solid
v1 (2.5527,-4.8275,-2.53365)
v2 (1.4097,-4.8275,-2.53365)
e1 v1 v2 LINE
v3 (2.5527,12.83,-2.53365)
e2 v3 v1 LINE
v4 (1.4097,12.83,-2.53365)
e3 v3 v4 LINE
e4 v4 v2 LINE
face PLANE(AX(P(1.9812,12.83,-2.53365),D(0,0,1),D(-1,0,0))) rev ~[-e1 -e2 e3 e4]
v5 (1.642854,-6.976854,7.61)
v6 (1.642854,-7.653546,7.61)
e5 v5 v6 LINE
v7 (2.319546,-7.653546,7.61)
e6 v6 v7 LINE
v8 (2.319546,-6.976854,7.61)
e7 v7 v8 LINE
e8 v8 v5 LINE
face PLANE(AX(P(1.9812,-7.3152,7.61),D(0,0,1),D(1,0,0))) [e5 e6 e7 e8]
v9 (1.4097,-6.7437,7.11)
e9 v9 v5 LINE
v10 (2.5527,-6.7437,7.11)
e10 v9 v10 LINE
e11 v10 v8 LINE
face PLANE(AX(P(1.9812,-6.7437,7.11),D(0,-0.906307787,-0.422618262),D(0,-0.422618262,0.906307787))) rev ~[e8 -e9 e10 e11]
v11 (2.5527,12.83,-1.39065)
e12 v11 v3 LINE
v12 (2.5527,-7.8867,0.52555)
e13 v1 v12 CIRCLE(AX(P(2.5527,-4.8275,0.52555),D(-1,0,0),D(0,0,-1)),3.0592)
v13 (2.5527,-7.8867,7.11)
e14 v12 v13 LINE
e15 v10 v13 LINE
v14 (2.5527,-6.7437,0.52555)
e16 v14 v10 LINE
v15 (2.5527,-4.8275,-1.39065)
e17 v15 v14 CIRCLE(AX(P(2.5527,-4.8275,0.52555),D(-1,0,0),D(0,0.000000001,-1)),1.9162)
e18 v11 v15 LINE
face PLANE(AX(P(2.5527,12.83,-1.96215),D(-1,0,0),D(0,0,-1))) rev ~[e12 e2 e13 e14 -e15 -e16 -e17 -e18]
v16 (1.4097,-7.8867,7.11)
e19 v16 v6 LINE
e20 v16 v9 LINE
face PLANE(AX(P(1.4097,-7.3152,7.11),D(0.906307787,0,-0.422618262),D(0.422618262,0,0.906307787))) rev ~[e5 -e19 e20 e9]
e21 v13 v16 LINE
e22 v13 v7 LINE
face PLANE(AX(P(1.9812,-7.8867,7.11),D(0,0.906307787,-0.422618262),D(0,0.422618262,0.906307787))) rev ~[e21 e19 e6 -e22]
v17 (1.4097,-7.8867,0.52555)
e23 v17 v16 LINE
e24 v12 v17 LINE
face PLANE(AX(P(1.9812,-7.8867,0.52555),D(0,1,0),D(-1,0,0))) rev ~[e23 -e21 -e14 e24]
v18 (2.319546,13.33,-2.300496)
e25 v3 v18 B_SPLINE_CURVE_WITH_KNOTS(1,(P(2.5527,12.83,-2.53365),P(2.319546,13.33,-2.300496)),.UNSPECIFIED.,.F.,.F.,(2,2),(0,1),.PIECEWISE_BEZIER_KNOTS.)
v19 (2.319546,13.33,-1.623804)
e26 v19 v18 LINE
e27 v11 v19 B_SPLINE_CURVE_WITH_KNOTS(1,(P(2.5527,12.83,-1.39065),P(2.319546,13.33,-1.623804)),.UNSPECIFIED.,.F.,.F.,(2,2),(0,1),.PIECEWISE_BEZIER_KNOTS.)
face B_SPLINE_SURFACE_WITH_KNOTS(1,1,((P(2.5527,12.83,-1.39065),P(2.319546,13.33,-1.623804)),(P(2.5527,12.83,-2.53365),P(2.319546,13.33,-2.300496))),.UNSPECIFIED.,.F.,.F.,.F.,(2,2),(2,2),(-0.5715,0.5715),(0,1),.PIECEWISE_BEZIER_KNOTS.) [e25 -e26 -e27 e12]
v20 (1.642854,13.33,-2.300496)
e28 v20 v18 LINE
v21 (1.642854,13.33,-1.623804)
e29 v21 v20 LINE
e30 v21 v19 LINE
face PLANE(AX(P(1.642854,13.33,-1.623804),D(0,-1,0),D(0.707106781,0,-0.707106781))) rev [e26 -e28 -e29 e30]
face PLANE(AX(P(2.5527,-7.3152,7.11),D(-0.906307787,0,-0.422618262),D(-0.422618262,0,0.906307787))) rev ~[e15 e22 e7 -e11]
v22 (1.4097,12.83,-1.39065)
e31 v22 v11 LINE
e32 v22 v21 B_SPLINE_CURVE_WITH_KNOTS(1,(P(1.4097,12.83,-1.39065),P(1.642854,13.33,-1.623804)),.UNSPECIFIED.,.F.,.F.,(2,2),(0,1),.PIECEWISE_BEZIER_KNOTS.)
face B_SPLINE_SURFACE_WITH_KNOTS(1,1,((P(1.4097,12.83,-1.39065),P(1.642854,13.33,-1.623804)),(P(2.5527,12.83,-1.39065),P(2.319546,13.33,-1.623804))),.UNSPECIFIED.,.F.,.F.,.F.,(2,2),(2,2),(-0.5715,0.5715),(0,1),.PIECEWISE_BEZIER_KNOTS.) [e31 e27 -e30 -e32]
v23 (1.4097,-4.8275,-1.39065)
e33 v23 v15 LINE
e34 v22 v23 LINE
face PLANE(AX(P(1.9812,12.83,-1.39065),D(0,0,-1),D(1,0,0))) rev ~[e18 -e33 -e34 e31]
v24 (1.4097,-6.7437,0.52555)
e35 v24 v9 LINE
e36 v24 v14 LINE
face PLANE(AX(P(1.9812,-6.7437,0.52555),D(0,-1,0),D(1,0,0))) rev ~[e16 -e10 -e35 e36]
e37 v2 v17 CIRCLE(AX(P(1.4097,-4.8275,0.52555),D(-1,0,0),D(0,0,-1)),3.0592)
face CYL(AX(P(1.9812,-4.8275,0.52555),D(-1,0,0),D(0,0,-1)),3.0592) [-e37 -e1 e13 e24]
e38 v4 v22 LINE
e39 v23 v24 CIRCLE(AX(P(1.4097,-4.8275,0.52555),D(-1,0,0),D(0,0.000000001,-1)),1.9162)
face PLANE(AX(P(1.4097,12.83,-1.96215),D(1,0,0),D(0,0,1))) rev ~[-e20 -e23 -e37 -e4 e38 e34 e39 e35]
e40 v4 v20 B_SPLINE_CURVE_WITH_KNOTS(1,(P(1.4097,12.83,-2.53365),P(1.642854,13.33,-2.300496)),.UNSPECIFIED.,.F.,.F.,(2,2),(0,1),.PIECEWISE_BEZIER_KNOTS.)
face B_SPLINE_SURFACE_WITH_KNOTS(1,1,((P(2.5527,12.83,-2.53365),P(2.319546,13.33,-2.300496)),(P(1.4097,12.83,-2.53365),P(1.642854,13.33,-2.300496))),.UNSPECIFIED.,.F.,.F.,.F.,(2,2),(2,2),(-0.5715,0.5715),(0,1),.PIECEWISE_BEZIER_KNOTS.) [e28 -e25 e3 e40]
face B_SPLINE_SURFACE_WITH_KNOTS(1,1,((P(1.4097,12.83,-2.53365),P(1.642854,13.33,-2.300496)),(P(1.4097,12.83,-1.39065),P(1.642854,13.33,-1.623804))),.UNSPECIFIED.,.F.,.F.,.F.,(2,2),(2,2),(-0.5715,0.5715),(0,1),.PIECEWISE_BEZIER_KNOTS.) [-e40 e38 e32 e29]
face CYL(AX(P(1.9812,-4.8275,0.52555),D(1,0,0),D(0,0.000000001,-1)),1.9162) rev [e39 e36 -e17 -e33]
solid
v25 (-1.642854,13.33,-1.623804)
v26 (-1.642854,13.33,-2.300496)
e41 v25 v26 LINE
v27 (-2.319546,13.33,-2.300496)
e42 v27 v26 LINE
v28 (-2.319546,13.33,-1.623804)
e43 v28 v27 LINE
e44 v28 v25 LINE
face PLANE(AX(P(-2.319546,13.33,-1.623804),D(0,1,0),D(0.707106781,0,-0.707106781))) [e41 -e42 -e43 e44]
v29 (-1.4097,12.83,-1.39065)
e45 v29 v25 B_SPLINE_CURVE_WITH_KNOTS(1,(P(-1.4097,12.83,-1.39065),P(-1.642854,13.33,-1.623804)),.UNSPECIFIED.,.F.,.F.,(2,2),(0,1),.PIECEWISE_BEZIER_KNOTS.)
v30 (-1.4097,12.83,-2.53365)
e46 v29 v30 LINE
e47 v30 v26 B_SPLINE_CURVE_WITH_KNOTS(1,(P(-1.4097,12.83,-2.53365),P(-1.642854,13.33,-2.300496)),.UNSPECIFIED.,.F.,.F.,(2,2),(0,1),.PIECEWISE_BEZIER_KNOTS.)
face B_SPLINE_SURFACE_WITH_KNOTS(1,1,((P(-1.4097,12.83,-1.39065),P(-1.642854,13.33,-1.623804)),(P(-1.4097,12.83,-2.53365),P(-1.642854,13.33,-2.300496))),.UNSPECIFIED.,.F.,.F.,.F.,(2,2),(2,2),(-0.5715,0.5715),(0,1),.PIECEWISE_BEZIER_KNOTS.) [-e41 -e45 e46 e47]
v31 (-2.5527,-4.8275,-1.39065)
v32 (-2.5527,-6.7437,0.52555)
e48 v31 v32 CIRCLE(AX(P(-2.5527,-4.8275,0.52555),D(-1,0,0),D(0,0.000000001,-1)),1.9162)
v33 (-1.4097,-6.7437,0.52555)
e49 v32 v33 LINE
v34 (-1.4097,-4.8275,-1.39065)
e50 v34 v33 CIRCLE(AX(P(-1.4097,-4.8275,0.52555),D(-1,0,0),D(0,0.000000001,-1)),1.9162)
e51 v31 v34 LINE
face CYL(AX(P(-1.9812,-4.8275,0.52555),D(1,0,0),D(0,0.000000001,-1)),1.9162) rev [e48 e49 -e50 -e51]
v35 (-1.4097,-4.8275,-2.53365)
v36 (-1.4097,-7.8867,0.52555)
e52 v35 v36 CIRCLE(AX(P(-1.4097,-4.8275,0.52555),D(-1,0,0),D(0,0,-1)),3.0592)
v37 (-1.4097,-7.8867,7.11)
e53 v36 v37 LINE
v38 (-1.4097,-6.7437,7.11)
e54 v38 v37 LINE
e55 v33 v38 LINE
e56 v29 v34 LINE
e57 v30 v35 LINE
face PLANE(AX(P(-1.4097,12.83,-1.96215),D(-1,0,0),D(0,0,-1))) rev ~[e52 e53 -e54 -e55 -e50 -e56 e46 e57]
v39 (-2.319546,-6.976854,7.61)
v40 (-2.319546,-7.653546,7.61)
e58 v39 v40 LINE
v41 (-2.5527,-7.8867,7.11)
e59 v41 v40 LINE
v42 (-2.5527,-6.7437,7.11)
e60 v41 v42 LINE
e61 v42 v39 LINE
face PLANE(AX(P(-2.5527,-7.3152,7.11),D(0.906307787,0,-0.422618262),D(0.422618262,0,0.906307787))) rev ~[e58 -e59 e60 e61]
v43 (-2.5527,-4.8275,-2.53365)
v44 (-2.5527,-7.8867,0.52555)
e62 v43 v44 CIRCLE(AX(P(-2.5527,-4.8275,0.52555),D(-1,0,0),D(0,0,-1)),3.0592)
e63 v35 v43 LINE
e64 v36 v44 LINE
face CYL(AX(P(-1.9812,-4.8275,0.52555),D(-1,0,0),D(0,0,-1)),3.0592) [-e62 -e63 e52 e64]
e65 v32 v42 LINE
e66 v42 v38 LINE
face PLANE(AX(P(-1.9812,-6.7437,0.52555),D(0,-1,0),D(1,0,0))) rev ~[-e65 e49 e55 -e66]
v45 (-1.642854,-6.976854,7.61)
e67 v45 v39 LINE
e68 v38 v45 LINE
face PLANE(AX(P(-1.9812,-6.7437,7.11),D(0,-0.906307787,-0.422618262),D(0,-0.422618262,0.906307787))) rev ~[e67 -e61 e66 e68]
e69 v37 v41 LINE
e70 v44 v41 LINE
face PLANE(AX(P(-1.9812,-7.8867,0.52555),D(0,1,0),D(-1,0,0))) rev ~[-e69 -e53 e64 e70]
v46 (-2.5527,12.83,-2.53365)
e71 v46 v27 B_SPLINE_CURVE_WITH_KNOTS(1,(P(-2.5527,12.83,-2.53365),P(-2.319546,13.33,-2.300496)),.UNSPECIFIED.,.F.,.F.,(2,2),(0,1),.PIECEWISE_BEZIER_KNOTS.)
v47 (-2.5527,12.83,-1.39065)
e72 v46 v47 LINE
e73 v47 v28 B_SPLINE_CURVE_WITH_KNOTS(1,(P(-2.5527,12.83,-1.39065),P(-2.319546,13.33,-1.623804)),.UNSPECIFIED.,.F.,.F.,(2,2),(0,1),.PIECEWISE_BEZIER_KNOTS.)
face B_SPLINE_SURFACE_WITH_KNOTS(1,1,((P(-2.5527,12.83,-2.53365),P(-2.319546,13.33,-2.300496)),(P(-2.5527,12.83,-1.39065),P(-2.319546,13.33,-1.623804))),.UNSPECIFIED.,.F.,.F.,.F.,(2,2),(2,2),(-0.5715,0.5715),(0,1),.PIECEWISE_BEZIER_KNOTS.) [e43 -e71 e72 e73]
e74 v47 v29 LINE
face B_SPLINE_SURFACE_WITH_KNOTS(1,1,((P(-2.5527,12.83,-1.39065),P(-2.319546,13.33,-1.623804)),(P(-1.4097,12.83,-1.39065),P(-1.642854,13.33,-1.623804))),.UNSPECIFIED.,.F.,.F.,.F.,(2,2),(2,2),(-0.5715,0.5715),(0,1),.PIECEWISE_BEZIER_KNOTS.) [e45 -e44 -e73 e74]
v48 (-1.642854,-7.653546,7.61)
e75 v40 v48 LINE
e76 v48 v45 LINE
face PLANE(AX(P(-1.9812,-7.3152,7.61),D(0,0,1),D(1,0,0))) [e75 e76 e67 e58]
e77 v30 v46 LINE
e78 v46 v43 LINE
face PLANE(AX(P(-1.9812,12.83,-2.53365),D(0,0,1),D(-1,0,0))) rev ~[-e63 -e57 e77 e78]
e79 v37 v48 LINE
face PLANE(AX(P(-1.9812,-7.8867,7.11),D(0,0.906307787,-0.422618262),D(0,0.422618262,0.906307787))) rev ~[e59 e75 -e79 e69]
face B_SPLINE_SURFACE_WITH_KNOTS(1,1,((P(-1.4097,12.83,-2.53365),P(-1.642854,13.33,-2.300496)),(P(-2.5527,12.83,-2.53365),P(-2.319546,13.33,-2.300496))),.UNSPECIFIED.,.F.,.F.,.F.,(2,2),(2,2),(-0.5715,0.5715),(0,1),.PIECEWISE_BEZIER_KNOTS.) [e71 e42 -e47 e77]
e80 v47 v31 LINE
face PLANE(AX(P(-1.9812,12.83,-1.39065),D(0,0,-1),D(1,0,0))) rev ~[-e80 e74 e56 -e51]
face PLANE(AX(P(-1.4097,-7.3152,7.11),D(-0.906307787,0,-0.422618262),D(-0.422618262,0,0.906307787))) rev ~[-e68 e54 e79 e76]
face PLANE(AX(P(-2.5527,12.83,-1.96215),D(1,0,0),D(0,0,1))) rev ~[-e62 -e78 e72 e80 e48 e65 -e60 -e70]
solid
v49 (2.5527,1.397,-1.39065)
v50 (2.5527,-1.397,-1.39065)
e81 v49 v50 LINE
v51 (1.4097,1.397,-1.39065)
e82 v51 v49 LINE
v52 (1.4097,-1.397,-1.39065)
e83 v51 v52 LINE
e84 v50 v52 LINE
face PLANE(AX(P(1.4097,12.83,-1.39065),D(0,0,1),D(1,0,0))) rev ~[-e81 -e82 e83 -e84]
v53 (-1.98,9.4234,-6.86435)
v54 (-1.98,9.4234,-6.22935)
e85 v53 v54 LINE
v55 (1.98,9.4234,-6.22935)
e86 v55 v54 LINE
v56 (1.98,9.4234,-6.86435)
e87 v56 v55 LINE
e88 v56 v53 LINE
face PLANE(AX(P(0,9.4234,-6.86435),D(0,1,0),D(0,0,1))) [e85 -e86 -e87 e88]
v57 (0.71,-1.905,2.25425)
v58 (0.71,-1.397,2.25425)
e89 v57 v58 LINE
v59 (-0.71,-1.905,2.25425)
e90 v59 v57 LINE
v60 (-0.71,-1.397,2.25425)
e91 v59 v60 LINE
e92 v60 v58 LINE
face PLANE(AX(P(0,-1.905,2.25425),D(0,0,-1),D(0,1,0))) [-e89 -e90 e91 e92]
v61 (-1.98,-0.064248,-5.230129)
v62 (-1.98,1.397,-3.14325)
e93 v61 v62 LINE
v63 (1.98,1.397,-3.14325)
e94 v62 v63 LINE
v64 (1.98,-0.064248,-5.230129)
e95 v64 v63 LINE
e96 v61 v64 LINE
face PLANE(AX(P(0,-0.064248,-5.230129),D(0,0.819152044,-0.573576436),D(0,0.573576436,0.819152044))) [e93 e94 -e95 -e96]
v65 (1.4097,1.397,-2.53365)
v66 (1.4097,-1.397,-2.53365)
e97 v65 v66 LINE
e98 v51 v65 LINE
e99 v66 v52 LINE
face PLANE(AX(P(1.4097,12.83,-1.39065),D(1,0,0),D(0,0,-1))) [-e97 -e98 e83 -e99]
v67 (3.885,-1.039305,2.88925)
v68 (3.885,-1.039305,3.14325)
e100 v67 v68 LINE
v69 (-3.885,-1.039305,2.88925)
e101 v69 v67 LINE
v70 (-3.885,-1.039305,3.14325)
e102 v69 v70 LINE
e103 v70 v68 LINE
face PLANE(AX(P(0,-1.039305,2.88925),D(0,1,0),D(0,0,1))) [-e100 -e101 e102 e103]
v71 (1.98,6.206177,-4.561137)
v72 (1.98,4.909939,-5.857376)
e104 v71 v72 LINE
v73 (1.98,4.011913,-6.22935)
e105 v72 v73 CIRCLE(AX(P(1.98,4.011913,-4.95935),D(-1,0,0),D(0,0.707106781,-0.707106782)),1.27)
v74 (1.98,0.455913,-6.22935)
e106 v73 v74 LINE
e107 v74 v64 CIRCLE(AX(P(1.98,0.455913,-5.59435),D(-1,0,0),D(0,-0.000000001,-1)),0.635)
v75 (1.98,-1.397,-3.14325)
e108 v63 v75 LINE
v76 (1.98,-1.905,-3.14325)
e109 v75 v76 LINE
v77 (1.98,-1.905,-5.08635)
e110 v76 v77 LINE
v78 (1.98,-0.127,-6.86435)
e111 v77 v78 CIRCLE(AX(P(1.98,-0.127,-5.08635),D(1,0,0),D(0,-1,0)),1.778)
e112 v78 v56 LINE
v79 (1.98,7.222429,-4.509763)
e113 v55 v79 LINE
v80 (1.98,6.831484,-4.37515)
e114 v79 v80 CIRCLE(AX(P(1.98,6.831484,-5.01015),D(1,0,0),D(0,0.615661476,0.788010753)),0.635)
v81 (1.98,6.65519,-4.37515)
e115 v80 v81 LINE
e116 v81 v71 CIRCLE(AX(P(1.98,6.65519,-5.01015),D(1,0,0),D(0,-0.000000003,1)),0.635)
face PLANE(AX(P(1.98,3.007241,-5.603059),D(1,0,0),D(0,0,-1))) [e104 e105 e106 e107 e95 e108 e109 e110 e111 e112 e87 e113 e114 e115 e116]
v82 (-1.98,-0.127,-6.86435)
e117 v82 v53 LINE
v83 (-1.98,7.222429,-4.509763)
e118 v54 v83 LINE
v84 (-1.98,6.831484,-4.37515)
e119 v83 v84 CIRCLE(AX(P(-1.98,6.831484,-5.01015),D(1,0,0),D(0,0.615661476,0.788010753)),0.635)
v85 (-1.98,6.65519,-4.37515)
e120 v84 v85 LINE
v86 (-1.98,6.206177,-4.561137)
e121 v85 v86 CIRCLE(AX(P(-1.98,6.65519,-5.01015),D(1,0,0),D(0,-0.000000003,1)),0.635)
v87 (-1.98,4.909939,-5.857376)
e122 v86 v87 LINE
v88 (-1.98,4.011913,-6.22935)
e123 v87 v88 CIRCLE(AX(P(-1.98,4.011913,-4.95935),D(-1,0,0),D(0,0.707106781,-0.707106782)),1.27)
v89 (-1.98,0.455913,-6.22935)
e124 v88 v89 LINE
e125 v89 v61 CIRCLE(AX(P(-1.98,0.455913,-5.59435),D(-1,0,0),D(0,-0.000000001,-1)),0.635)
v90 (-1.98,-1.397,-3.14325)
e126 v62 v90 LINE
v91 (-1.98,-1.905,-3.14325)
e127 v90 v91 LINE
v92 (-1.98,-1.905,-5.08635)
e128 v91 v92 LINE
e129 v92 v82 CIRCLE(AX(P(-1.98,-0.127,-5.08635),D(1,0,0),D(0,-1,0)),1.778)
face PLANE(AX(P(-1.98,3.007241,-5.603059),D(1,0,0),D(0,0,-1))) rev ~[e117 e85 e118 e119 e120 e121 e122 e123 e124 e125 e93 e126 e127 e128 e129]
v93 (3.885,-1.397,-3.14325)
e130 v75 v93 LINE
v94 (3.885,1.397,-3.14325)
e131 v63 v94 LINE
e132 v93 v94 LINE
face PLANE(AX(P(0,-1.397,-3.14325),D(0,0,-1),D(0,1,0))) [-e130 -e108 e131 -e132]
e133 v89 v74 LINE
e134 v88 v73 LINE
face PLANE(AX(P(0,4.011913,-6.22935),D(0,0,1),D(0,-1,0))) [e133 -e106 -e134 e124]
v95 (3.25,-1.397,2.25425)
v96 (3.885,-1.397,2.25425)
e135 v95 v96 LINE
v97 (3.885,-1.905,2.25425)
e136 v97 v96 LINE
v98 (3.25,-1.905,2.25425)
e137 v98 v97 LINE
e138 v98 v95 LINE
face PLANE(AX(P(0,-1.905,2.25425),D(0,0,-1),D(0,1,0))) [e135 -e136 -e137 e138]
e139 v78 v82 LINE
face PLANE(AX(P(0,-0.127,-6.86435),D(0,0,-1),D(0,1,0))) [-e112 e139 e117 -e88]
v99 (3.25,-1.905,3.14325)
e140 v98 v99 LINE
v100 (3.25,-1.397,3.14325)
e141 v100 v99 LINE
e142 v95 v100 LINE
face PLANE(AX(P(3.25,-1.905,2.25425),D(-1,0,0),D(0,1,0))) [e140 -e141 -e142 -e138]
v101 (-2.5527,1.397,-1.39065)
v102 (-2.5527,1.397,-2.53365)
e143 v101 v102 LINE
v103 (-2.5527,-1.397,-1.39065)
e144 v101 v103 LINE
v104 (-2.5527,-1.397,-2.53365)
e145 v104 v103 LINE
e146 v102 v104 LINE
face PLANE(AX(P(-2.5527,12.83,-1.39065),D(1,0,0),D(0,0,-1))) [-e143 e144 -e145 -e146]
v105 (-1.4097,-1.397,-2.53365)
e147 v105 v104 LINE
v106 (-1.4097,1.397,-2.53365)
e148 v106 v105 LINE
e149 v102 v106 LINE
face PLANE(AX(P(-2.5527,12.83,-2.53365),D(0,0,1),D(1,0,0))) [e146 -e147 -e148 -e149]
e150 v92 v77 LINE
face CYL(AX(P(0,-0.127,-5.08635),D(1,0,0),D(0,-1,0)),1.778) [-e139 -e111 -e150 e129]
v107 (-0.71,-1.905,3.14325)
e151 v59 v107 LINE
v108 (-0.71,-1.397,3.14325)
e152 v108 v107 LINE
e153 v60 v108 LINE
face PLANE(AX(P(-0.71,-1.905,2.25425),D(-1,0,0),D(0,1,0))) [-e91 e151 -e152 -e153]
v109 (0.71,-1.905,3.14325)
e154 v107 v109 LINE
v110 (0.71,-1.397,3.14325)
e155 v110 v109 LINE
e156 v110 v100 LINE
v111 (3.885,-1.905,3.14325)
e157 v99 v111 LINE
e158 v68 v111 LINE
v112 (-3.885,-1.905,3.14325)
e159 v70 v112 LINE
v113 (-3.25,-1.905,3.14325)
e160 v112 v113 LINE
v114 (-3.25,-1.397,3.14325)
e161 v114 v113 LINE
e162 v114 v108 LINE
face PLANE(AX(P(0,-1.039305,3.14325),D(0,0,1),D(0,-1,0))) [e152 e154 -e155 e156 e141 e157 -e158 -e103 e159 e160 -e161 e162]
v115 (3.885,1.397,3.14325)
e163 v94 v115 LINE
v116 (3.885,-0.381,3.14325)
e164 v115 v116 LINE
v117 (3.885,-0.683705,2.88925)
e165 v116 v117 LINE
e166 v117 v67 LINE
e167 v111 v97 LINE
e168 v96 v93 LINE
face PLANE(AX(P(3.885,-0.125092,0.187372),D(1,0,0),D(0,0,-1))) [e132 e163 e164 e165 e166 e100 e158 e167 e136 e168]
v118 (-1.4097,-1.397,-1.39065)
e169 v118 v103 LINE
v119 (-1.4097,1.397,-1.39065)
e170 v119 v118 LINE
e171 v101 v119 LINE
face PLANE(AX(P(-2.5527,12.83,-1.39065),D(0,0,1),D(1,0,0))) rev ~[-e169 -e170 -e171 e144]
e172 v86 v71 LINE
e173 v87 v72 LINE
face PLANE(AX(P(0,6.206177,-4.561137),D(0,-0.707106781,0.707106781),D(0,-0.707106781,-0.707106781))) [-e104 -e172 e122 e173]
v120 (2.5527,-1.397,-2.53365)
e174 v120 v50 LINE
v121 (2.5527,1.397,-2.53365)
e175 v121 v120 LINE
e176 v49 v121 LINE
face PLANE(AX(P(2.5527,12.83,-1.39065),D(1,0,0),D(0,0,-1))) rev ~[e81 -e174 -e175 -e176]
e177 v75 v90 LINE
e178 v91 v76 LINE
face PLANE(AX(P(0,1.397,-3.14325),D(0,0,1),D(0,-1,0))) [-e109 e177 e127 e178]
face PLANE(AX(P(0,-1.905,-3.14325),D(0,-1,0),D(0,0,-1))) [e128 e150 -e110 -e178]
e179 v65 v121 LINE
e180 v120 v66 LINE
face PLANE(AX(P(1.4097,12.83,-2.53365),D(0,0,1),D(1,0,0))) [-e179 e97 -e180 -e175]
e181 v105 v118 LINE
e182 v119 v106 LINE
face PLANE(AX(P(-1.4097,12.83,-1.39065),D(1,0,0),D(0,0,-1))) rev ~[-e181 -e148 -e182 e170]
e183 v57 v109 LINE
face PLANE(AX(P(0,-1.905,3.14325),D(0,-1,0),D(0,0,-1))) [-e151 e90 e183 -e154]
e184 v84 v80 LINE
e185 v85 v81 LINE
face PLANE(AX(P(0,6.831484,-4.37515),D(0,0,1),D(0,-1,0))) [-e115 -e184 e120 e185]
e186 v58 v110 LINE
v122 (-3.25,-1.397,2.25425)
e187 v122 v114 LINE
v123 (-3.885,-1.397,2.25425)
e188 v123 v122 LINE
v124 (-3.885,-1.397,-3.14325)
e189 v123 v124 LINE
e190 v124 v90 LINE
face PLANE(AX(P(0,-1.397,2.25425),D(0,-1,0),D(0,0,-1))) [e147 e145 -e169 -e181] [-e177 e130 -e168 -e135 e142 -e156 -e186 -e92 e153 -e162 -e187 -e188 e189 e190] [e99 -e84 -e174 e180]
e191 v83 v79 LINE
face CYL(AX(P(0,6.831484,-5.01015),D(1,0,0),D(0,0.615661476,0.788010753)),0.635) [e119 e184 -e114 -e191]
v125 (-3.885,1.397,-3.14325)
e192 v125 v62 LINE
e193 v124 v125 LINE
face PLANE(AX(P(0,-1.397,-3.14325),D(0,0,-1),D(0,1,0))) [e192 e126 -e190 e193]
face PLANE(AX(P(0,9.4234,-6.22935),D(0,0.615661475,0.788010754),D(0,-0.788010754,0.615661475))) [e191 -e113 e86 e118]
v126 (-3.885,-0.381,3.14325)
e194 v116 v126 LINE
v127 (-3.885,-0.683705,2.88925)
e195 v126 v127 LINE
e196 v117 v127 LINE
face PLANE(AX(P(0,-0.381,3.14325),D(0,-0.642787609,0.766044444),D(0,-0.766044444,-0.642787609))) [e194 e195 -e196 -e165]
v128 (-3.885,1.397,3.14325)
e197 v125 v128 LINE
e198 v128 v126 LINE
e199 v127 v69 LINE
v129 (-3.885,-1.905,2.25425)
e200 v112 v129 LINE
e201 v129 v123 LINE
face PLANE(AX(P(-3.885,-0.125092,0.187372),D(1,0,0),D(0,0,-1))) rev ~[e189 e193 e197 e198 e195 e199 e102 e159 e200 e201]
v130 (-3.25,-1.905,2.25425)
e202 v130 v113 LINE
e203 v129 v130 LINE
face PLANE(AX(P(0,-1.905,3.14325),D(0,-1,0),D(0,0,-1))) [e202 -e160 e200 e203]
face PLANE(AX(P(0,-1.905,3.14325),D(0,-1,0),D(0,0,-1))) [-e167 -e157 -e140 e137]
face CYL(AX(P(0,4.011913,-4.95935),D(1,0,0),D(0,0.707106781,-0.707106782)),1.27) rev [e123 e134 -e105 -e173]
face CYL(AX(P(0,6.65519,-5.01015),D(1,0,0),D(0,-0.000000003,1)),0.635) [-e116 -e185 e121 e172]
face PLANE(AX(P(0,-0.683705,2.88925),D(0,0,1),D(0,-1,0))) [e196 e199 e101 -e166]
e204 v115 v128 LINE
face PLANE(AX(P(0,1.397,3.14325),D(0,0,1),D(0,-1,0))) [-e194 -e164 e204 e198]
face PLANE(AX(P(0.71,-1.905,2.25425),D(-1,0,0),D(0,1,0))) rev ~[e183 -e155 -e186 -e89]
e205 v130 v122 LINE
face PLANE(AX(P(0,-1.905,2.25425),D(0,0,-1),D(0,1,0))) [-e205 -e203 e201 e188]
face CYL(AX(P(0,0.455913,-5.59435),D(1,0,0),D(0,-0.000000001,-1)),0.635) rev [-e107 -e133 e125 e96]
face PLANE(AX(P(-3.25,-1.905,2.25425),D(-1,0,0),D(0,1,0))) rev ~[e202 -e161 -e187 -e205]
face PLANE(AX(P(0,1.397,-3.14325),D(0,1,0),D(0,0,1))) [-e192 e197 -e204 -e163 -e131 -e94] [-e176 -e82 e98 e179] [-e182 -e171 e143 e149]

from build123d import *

# Parameters (mm, degrees)
BOSS_EXTRUDE14_DEPTH           = 3.885
BOSS_EXTRUDE14_DEPTH_BACK      = 3.885
BOSS_EXTRUDE15_DEPTH           = 1.98
BOSS_EXTRUDE15_DEPTH_BACK      = 1.98
SKETCH19_W                     = 2.54
SKETCH19_H                     = 0.508
CUT_EXTRUDE4_DEPTH             = 14.676350336
SKETCH20_W                     = 1.143
SKETCH20_H                     = 1.143
CUT_EXTRUDE5_DEPTH             = 17.713250759
SKETCH20_2_W                   = 1.143
SKETCH20_2_H                   = 1.143
SKETCH23_W                     = 1.143
SKETCH23_H                     = 1.143
BOSS_EXTRUDE16_DEPTH           = 0.5
BOSS_EXTRUDE16_DRAFT           = 25
BOSS_EXTRUDE16_PROFILE_2_DEPTH = 0.5
BOSS_EXTRUDE16_PROFILE_2_DRAFT = 25
SKETCH24_W                     = 1.143
SKETCH24_H                     = 1.143
BOSS_EXTRUDE17_DEPTH           = 0.5
BOSS_EXTRUDE17_DRAFT           = 25
BOSS_EXTRUDE17_PROFILE_2_DEPTH = 0.5
BOSS_EXTRUDE17_PROFILE_2_DRAFT = 25


with BuildPart() as part:
    # Sketch17 → Boss-Extrude14 (new, two sides: drawn at the far end of the back side and taken through both)
    with BuildSketch(Plane(origin=(0, 0, 0), x_dir=(0, 0, -1), z_dir=(1, 0, 0)).offset(-BOSS_EXTRUDE14_DEPTH_BACK)):
        Polygon((-2.88925001, -0.683705401), (-2.88925001, -1.039305413), (-3.14325, -1.039305413), (-3.14325, -1.905), (-2.25425, -1.905), (-2.25425, -1.397), (3.14325, -1.397), (3.14325, 1.397), (-3.14325, 1.397), (-3.14325, -0.381), align=None)
    extrude(amount=BOSS_EXTRUDE14_DEPTH + BOSS_EXTRUDE14_DEPTH_BACK)

    # Sketch18 → Boss-Extrude15 (add, two sides: drawn at the far end of the back side and taken through both)
    with BuildSketch(Plane(origin=(0, 0, 0), x_dir=(0, 0, -1), z_dir=(1, 0, 0)).offset(-BOSS_EXTRUDE15_DEPTH_BACK)):
        with BuildLine():
            Line((6.22935, 9.4234), (4.509763171, 7.222429228))
            ThreePointArc((4.509763171, 7.222429228), (4.409745704, 7.038219969), (4.37515, 6.831484191))
            Line((4.37515, 6.831484191), (4.37515, 6.655190003))
            ThreePointArc((4.37515, 6.655190003), (4.423486497, 6.412186024), (4.561137194, 6.206177197))
            Line((4.561137194, 6.206177197), (5.857375612, 4.909938779))
            ThreePointArc((5.857375612, 4.909938779), (6.132677006, 4.497921126), (6.22935, 4.011913167))
            Line((6.22935, 4.011913167), (6.22935, 0.455913167))
            ThreePointArc((6.22935, 0.455913167), (5.887560369, -0.107338712), (5.230128963, -0.064248381))
            Line((5.230128963, -0.064248381), (3.14325, 1.397))
            Line((3.14325, 1.397), (3.14325, -1.905))
            Line((3.14325, -1.905), (5.08635, -1.905))
            ThreePointArc((5.08635, -1.905), (6.343585857, -1.384235857), (6.86435, -0.127))
            Line((6.86435, -0.127), (6.86435, 9.4234))
            Line((6.86435, 9.4234), (6.22935, 9.4234))
        make_face()
    extrude(amount=BOSS_EXTRUDE15_DEPTH + BOSS_EXTRUDE15_DEPTH_BACK)

    # Sketch19 → Cut-Extrude4 (cut, through all)
    with BuildSketch(Plane(origin=(0, 0, 2.25425), x_dir=(-1, 0, 0), z_dir=(0, 0, -1))):
        with Locations((-1.98, -1.651)):
            Rectangle(SKETCH19_W, SKETCH19_H)
        with Locations((1.98, -1.651)):
            Rectangle(SKETCH19_W, SKETCH19_H)
    extrude(amount=-CUT_EXTRUDE4_DEPTH, mode=Mode.SUBTRACT)

    # Sketch20 → Cut-Extrude5 (cut, through all)
    with BuildSketch(Plane(origin=(0, 12.83, 0), x_dir=(1, 0, 0), z_dir=(0, 1, 0))):
        with Locations((-1.9812, 1.96215)):
            Rectangle(SKETCH20_W, SKETCH20_H)
        with Locations((1.9812, 1.96215)):
            Rectangle(SKETCH20_W, SKETCH20_H)
    extrude(amount=-CUT_EXTRUDE5_DEPTH, mode=Mode.SUBTRACT)


with BuildPart() as body_2:
    # Sweep1: sweep along a path in Sketch21
    with BuildLine(Plane(origin=(1.98, 0, 0), x_dir=(0, 0, -1), z_dir=(1, 0, 0))) as sweep1_path:
        Line((1.96215, 12.83), (1.96215, -4.8275))
        ThreePointArc((1.96215, -4.8275), (1.23351954, -6.58656954), (-0.52555, -7.3152))
        Line((-0.52555, -7.3152), (-7.11, -7.3152))
    # Sketch20<2> → Sweep1 (sweep)
    with BuildSketch(Plane(origin=(0, 12.83, 0), x_dir=(1, 0, 0), z_dir=(0, 1, 0))):
        with Locations((-1.9812, 1.96215)):
            Rectangle(SKETCH20_2_W, SKETCH20_2_H)
        with Locations((1.9812, 1.96215)):
            Rectangle(SKETCH20_2_W, SKETCH20_2_H)
    sweep(path=sweep1_path.line)


with BuildPart() as boss_extrude16_tool:
    # Sketch23 → Boss-Extrude16 (with draft: the straight prism first)
    with BuildSketch(Plane(origin=(0, 12.83, 0), x_dir=(1, 0, 0), z_dir=(0, 1, 0))):
        with Locations((1.9812, 1.96215)):
            Rectangle(SKETCH23_W, SKETCH23_H)
    extrude(amount=BOSS_EXTRUDE16_DEPTH)
    # Boss-Extrude16: the draft: its side faces are tilted about the plane it starts from
    boss_extrude16_sides = [boss_extrude16_tool.faces().sort_by_distance(p)[0] for p in [
        (1.9812, 13.08, -1.39065),
        (2.5527, 13.08, -1.96215),
        (1.9812, 13.08, -2.53365),
        (1.4097, 13.08, -1.96215),
    ]]
    draft(boss_extrude16_sides, Plane(origin=(0, 12.83, 0), x_dir=(1, 0, 0), z_dir=(0, 1, 0)), BOSS_EXTRUDE16_DRAFT)


with BuildPart() as body_2_1:
    add(body_2.part)

    # Boss-Extrude16: add boss_extrude16_tool
    add(boss_extrude16_tool.part)


with BuildPart() as boss_extrude16_profile_2_tool:
    # Sketch23 → Boss-Extrude16 profile 2 (with draft: the straight prism first)
    with BuildSketch(Plane(origin=(0, 12.83, 0), x_dir=(1, 0, 0), z_dir=(0, 1, 0))):
        with Locations((-1.9812, 1.96215)):
            Rectangle(SKETCH23_W, SKETCH23_H)
    extrude(amount=BOSS_EXTRUDE16_PROFILE_2_DEPTH)
    # Boss-Extrude16 profile 2: the draft: its side faces are tilted about the plane it starts from
    boss_extrude16_profile_2_sides = [boss_extrude16_profile_2_tool.faces().sort_by_distance(p)[0] for p in [
        (-1.9812, 13.08, -1.39065),
        (-1.4097, 13.08, -1.96215),
        (-1.9812, 13.08, -2.53365),
        (-2.5527, 13.08, -1.96215),
    ]]
    draft(boss_extrude16_profile_2_sides, Plane(origin=(0, 12.83, 0), x_dir=(1, 0, 0), z_dir=(0, 1, 0)), BOSS_EXTRUDE16_PROFILE_2_DRAFT)


with BuildPart() as body_2_2:
    add(body_2_1.part)

    # Boss-Extrude16 profile 2: add boss_extrude16_profile_2_tool
    add(boss_extrude16_profile_2_tool.part)


with BuildPart() as boss_extrude17_tool:
    # Sketch24 → Boss-Extrude17 (with draft: the straight prism first)
    with BuildSketch(Plane.XY.offset(7.11)):
        with Locations((1.9812, -7.3152)):
            Rectangle(SKETCH24_W, SKETCH24_H)
    extrude(amount=BOSS_EXTRUDE17_DEPTH)
    # Boss-Extrude17: the draft: its side faces are tilted about the plane it starts from
    boss_extrude17_sides = [boss_extrude17_tool.faces().sort_by_distance(p)[0] for p in [
        (1.9812, -6.7437, 7.36),
        (1.4097, -7.3152, 7.36),
        (1.9812, -7.8867, 7.36),
        (2.5527, -7.3152, 7.36),
    ]]
    draft(boss_extrude17_sides, Plane.XY.offset(7.11), BOSS_EXTRUDE17_DRAFT)


with BuildPart() as body_2_3:
    add(body_2_2.part)

    # Boss-Extrude17: add boss_extrude17_tool
    add(boss_extrude17_tool.part)


with BuildPart() as boss_extrude17_profile_2_tool:
    # Sketch24 → Boss-Extrude17 profile 2 (with draft: the straight prism first)
    with BuildSketch(Plane.XY.offset(7.11)):
        with Locations((-1.9812, -7.3152)):
            Rectangle(SKETCH24_W, SKETCH24_H)
    extrude(amount=BOSS_EXTRUDE17_PROFILE_2_DEPTH)
    # Boss-Extrude17 profile 2: the draft: its side faces are tilted about the plane it starts from
    boss_extrude17_profile_2_sides = [boss_extrude17_profile_2_tool.faces().sort_by_distance(p)[0] for p in [
        (-1.9812, -6.7437, 7.36),
        (-2.5527, -7.3152, 7.36),
        (-1.9812, -7.8867, 7.36),
        (-1.4097, -7.3152, 7.36),
    ]]
    draft(boss_extrude17_profile_2_sides, Plane.XY.offset(7.11), BOSS_EXTRUDE17_PROFILE_2_DRAFT)


with BuildPart() as body_2_4:
    add(body_2_3.part)

    # Boss-Extrude17 profile 2: add boss_extrude17_profile_2_tool
    add(boss_extrude17_profile_2_tool.part)


solid = Compound([part.part, body_2_4.part])
